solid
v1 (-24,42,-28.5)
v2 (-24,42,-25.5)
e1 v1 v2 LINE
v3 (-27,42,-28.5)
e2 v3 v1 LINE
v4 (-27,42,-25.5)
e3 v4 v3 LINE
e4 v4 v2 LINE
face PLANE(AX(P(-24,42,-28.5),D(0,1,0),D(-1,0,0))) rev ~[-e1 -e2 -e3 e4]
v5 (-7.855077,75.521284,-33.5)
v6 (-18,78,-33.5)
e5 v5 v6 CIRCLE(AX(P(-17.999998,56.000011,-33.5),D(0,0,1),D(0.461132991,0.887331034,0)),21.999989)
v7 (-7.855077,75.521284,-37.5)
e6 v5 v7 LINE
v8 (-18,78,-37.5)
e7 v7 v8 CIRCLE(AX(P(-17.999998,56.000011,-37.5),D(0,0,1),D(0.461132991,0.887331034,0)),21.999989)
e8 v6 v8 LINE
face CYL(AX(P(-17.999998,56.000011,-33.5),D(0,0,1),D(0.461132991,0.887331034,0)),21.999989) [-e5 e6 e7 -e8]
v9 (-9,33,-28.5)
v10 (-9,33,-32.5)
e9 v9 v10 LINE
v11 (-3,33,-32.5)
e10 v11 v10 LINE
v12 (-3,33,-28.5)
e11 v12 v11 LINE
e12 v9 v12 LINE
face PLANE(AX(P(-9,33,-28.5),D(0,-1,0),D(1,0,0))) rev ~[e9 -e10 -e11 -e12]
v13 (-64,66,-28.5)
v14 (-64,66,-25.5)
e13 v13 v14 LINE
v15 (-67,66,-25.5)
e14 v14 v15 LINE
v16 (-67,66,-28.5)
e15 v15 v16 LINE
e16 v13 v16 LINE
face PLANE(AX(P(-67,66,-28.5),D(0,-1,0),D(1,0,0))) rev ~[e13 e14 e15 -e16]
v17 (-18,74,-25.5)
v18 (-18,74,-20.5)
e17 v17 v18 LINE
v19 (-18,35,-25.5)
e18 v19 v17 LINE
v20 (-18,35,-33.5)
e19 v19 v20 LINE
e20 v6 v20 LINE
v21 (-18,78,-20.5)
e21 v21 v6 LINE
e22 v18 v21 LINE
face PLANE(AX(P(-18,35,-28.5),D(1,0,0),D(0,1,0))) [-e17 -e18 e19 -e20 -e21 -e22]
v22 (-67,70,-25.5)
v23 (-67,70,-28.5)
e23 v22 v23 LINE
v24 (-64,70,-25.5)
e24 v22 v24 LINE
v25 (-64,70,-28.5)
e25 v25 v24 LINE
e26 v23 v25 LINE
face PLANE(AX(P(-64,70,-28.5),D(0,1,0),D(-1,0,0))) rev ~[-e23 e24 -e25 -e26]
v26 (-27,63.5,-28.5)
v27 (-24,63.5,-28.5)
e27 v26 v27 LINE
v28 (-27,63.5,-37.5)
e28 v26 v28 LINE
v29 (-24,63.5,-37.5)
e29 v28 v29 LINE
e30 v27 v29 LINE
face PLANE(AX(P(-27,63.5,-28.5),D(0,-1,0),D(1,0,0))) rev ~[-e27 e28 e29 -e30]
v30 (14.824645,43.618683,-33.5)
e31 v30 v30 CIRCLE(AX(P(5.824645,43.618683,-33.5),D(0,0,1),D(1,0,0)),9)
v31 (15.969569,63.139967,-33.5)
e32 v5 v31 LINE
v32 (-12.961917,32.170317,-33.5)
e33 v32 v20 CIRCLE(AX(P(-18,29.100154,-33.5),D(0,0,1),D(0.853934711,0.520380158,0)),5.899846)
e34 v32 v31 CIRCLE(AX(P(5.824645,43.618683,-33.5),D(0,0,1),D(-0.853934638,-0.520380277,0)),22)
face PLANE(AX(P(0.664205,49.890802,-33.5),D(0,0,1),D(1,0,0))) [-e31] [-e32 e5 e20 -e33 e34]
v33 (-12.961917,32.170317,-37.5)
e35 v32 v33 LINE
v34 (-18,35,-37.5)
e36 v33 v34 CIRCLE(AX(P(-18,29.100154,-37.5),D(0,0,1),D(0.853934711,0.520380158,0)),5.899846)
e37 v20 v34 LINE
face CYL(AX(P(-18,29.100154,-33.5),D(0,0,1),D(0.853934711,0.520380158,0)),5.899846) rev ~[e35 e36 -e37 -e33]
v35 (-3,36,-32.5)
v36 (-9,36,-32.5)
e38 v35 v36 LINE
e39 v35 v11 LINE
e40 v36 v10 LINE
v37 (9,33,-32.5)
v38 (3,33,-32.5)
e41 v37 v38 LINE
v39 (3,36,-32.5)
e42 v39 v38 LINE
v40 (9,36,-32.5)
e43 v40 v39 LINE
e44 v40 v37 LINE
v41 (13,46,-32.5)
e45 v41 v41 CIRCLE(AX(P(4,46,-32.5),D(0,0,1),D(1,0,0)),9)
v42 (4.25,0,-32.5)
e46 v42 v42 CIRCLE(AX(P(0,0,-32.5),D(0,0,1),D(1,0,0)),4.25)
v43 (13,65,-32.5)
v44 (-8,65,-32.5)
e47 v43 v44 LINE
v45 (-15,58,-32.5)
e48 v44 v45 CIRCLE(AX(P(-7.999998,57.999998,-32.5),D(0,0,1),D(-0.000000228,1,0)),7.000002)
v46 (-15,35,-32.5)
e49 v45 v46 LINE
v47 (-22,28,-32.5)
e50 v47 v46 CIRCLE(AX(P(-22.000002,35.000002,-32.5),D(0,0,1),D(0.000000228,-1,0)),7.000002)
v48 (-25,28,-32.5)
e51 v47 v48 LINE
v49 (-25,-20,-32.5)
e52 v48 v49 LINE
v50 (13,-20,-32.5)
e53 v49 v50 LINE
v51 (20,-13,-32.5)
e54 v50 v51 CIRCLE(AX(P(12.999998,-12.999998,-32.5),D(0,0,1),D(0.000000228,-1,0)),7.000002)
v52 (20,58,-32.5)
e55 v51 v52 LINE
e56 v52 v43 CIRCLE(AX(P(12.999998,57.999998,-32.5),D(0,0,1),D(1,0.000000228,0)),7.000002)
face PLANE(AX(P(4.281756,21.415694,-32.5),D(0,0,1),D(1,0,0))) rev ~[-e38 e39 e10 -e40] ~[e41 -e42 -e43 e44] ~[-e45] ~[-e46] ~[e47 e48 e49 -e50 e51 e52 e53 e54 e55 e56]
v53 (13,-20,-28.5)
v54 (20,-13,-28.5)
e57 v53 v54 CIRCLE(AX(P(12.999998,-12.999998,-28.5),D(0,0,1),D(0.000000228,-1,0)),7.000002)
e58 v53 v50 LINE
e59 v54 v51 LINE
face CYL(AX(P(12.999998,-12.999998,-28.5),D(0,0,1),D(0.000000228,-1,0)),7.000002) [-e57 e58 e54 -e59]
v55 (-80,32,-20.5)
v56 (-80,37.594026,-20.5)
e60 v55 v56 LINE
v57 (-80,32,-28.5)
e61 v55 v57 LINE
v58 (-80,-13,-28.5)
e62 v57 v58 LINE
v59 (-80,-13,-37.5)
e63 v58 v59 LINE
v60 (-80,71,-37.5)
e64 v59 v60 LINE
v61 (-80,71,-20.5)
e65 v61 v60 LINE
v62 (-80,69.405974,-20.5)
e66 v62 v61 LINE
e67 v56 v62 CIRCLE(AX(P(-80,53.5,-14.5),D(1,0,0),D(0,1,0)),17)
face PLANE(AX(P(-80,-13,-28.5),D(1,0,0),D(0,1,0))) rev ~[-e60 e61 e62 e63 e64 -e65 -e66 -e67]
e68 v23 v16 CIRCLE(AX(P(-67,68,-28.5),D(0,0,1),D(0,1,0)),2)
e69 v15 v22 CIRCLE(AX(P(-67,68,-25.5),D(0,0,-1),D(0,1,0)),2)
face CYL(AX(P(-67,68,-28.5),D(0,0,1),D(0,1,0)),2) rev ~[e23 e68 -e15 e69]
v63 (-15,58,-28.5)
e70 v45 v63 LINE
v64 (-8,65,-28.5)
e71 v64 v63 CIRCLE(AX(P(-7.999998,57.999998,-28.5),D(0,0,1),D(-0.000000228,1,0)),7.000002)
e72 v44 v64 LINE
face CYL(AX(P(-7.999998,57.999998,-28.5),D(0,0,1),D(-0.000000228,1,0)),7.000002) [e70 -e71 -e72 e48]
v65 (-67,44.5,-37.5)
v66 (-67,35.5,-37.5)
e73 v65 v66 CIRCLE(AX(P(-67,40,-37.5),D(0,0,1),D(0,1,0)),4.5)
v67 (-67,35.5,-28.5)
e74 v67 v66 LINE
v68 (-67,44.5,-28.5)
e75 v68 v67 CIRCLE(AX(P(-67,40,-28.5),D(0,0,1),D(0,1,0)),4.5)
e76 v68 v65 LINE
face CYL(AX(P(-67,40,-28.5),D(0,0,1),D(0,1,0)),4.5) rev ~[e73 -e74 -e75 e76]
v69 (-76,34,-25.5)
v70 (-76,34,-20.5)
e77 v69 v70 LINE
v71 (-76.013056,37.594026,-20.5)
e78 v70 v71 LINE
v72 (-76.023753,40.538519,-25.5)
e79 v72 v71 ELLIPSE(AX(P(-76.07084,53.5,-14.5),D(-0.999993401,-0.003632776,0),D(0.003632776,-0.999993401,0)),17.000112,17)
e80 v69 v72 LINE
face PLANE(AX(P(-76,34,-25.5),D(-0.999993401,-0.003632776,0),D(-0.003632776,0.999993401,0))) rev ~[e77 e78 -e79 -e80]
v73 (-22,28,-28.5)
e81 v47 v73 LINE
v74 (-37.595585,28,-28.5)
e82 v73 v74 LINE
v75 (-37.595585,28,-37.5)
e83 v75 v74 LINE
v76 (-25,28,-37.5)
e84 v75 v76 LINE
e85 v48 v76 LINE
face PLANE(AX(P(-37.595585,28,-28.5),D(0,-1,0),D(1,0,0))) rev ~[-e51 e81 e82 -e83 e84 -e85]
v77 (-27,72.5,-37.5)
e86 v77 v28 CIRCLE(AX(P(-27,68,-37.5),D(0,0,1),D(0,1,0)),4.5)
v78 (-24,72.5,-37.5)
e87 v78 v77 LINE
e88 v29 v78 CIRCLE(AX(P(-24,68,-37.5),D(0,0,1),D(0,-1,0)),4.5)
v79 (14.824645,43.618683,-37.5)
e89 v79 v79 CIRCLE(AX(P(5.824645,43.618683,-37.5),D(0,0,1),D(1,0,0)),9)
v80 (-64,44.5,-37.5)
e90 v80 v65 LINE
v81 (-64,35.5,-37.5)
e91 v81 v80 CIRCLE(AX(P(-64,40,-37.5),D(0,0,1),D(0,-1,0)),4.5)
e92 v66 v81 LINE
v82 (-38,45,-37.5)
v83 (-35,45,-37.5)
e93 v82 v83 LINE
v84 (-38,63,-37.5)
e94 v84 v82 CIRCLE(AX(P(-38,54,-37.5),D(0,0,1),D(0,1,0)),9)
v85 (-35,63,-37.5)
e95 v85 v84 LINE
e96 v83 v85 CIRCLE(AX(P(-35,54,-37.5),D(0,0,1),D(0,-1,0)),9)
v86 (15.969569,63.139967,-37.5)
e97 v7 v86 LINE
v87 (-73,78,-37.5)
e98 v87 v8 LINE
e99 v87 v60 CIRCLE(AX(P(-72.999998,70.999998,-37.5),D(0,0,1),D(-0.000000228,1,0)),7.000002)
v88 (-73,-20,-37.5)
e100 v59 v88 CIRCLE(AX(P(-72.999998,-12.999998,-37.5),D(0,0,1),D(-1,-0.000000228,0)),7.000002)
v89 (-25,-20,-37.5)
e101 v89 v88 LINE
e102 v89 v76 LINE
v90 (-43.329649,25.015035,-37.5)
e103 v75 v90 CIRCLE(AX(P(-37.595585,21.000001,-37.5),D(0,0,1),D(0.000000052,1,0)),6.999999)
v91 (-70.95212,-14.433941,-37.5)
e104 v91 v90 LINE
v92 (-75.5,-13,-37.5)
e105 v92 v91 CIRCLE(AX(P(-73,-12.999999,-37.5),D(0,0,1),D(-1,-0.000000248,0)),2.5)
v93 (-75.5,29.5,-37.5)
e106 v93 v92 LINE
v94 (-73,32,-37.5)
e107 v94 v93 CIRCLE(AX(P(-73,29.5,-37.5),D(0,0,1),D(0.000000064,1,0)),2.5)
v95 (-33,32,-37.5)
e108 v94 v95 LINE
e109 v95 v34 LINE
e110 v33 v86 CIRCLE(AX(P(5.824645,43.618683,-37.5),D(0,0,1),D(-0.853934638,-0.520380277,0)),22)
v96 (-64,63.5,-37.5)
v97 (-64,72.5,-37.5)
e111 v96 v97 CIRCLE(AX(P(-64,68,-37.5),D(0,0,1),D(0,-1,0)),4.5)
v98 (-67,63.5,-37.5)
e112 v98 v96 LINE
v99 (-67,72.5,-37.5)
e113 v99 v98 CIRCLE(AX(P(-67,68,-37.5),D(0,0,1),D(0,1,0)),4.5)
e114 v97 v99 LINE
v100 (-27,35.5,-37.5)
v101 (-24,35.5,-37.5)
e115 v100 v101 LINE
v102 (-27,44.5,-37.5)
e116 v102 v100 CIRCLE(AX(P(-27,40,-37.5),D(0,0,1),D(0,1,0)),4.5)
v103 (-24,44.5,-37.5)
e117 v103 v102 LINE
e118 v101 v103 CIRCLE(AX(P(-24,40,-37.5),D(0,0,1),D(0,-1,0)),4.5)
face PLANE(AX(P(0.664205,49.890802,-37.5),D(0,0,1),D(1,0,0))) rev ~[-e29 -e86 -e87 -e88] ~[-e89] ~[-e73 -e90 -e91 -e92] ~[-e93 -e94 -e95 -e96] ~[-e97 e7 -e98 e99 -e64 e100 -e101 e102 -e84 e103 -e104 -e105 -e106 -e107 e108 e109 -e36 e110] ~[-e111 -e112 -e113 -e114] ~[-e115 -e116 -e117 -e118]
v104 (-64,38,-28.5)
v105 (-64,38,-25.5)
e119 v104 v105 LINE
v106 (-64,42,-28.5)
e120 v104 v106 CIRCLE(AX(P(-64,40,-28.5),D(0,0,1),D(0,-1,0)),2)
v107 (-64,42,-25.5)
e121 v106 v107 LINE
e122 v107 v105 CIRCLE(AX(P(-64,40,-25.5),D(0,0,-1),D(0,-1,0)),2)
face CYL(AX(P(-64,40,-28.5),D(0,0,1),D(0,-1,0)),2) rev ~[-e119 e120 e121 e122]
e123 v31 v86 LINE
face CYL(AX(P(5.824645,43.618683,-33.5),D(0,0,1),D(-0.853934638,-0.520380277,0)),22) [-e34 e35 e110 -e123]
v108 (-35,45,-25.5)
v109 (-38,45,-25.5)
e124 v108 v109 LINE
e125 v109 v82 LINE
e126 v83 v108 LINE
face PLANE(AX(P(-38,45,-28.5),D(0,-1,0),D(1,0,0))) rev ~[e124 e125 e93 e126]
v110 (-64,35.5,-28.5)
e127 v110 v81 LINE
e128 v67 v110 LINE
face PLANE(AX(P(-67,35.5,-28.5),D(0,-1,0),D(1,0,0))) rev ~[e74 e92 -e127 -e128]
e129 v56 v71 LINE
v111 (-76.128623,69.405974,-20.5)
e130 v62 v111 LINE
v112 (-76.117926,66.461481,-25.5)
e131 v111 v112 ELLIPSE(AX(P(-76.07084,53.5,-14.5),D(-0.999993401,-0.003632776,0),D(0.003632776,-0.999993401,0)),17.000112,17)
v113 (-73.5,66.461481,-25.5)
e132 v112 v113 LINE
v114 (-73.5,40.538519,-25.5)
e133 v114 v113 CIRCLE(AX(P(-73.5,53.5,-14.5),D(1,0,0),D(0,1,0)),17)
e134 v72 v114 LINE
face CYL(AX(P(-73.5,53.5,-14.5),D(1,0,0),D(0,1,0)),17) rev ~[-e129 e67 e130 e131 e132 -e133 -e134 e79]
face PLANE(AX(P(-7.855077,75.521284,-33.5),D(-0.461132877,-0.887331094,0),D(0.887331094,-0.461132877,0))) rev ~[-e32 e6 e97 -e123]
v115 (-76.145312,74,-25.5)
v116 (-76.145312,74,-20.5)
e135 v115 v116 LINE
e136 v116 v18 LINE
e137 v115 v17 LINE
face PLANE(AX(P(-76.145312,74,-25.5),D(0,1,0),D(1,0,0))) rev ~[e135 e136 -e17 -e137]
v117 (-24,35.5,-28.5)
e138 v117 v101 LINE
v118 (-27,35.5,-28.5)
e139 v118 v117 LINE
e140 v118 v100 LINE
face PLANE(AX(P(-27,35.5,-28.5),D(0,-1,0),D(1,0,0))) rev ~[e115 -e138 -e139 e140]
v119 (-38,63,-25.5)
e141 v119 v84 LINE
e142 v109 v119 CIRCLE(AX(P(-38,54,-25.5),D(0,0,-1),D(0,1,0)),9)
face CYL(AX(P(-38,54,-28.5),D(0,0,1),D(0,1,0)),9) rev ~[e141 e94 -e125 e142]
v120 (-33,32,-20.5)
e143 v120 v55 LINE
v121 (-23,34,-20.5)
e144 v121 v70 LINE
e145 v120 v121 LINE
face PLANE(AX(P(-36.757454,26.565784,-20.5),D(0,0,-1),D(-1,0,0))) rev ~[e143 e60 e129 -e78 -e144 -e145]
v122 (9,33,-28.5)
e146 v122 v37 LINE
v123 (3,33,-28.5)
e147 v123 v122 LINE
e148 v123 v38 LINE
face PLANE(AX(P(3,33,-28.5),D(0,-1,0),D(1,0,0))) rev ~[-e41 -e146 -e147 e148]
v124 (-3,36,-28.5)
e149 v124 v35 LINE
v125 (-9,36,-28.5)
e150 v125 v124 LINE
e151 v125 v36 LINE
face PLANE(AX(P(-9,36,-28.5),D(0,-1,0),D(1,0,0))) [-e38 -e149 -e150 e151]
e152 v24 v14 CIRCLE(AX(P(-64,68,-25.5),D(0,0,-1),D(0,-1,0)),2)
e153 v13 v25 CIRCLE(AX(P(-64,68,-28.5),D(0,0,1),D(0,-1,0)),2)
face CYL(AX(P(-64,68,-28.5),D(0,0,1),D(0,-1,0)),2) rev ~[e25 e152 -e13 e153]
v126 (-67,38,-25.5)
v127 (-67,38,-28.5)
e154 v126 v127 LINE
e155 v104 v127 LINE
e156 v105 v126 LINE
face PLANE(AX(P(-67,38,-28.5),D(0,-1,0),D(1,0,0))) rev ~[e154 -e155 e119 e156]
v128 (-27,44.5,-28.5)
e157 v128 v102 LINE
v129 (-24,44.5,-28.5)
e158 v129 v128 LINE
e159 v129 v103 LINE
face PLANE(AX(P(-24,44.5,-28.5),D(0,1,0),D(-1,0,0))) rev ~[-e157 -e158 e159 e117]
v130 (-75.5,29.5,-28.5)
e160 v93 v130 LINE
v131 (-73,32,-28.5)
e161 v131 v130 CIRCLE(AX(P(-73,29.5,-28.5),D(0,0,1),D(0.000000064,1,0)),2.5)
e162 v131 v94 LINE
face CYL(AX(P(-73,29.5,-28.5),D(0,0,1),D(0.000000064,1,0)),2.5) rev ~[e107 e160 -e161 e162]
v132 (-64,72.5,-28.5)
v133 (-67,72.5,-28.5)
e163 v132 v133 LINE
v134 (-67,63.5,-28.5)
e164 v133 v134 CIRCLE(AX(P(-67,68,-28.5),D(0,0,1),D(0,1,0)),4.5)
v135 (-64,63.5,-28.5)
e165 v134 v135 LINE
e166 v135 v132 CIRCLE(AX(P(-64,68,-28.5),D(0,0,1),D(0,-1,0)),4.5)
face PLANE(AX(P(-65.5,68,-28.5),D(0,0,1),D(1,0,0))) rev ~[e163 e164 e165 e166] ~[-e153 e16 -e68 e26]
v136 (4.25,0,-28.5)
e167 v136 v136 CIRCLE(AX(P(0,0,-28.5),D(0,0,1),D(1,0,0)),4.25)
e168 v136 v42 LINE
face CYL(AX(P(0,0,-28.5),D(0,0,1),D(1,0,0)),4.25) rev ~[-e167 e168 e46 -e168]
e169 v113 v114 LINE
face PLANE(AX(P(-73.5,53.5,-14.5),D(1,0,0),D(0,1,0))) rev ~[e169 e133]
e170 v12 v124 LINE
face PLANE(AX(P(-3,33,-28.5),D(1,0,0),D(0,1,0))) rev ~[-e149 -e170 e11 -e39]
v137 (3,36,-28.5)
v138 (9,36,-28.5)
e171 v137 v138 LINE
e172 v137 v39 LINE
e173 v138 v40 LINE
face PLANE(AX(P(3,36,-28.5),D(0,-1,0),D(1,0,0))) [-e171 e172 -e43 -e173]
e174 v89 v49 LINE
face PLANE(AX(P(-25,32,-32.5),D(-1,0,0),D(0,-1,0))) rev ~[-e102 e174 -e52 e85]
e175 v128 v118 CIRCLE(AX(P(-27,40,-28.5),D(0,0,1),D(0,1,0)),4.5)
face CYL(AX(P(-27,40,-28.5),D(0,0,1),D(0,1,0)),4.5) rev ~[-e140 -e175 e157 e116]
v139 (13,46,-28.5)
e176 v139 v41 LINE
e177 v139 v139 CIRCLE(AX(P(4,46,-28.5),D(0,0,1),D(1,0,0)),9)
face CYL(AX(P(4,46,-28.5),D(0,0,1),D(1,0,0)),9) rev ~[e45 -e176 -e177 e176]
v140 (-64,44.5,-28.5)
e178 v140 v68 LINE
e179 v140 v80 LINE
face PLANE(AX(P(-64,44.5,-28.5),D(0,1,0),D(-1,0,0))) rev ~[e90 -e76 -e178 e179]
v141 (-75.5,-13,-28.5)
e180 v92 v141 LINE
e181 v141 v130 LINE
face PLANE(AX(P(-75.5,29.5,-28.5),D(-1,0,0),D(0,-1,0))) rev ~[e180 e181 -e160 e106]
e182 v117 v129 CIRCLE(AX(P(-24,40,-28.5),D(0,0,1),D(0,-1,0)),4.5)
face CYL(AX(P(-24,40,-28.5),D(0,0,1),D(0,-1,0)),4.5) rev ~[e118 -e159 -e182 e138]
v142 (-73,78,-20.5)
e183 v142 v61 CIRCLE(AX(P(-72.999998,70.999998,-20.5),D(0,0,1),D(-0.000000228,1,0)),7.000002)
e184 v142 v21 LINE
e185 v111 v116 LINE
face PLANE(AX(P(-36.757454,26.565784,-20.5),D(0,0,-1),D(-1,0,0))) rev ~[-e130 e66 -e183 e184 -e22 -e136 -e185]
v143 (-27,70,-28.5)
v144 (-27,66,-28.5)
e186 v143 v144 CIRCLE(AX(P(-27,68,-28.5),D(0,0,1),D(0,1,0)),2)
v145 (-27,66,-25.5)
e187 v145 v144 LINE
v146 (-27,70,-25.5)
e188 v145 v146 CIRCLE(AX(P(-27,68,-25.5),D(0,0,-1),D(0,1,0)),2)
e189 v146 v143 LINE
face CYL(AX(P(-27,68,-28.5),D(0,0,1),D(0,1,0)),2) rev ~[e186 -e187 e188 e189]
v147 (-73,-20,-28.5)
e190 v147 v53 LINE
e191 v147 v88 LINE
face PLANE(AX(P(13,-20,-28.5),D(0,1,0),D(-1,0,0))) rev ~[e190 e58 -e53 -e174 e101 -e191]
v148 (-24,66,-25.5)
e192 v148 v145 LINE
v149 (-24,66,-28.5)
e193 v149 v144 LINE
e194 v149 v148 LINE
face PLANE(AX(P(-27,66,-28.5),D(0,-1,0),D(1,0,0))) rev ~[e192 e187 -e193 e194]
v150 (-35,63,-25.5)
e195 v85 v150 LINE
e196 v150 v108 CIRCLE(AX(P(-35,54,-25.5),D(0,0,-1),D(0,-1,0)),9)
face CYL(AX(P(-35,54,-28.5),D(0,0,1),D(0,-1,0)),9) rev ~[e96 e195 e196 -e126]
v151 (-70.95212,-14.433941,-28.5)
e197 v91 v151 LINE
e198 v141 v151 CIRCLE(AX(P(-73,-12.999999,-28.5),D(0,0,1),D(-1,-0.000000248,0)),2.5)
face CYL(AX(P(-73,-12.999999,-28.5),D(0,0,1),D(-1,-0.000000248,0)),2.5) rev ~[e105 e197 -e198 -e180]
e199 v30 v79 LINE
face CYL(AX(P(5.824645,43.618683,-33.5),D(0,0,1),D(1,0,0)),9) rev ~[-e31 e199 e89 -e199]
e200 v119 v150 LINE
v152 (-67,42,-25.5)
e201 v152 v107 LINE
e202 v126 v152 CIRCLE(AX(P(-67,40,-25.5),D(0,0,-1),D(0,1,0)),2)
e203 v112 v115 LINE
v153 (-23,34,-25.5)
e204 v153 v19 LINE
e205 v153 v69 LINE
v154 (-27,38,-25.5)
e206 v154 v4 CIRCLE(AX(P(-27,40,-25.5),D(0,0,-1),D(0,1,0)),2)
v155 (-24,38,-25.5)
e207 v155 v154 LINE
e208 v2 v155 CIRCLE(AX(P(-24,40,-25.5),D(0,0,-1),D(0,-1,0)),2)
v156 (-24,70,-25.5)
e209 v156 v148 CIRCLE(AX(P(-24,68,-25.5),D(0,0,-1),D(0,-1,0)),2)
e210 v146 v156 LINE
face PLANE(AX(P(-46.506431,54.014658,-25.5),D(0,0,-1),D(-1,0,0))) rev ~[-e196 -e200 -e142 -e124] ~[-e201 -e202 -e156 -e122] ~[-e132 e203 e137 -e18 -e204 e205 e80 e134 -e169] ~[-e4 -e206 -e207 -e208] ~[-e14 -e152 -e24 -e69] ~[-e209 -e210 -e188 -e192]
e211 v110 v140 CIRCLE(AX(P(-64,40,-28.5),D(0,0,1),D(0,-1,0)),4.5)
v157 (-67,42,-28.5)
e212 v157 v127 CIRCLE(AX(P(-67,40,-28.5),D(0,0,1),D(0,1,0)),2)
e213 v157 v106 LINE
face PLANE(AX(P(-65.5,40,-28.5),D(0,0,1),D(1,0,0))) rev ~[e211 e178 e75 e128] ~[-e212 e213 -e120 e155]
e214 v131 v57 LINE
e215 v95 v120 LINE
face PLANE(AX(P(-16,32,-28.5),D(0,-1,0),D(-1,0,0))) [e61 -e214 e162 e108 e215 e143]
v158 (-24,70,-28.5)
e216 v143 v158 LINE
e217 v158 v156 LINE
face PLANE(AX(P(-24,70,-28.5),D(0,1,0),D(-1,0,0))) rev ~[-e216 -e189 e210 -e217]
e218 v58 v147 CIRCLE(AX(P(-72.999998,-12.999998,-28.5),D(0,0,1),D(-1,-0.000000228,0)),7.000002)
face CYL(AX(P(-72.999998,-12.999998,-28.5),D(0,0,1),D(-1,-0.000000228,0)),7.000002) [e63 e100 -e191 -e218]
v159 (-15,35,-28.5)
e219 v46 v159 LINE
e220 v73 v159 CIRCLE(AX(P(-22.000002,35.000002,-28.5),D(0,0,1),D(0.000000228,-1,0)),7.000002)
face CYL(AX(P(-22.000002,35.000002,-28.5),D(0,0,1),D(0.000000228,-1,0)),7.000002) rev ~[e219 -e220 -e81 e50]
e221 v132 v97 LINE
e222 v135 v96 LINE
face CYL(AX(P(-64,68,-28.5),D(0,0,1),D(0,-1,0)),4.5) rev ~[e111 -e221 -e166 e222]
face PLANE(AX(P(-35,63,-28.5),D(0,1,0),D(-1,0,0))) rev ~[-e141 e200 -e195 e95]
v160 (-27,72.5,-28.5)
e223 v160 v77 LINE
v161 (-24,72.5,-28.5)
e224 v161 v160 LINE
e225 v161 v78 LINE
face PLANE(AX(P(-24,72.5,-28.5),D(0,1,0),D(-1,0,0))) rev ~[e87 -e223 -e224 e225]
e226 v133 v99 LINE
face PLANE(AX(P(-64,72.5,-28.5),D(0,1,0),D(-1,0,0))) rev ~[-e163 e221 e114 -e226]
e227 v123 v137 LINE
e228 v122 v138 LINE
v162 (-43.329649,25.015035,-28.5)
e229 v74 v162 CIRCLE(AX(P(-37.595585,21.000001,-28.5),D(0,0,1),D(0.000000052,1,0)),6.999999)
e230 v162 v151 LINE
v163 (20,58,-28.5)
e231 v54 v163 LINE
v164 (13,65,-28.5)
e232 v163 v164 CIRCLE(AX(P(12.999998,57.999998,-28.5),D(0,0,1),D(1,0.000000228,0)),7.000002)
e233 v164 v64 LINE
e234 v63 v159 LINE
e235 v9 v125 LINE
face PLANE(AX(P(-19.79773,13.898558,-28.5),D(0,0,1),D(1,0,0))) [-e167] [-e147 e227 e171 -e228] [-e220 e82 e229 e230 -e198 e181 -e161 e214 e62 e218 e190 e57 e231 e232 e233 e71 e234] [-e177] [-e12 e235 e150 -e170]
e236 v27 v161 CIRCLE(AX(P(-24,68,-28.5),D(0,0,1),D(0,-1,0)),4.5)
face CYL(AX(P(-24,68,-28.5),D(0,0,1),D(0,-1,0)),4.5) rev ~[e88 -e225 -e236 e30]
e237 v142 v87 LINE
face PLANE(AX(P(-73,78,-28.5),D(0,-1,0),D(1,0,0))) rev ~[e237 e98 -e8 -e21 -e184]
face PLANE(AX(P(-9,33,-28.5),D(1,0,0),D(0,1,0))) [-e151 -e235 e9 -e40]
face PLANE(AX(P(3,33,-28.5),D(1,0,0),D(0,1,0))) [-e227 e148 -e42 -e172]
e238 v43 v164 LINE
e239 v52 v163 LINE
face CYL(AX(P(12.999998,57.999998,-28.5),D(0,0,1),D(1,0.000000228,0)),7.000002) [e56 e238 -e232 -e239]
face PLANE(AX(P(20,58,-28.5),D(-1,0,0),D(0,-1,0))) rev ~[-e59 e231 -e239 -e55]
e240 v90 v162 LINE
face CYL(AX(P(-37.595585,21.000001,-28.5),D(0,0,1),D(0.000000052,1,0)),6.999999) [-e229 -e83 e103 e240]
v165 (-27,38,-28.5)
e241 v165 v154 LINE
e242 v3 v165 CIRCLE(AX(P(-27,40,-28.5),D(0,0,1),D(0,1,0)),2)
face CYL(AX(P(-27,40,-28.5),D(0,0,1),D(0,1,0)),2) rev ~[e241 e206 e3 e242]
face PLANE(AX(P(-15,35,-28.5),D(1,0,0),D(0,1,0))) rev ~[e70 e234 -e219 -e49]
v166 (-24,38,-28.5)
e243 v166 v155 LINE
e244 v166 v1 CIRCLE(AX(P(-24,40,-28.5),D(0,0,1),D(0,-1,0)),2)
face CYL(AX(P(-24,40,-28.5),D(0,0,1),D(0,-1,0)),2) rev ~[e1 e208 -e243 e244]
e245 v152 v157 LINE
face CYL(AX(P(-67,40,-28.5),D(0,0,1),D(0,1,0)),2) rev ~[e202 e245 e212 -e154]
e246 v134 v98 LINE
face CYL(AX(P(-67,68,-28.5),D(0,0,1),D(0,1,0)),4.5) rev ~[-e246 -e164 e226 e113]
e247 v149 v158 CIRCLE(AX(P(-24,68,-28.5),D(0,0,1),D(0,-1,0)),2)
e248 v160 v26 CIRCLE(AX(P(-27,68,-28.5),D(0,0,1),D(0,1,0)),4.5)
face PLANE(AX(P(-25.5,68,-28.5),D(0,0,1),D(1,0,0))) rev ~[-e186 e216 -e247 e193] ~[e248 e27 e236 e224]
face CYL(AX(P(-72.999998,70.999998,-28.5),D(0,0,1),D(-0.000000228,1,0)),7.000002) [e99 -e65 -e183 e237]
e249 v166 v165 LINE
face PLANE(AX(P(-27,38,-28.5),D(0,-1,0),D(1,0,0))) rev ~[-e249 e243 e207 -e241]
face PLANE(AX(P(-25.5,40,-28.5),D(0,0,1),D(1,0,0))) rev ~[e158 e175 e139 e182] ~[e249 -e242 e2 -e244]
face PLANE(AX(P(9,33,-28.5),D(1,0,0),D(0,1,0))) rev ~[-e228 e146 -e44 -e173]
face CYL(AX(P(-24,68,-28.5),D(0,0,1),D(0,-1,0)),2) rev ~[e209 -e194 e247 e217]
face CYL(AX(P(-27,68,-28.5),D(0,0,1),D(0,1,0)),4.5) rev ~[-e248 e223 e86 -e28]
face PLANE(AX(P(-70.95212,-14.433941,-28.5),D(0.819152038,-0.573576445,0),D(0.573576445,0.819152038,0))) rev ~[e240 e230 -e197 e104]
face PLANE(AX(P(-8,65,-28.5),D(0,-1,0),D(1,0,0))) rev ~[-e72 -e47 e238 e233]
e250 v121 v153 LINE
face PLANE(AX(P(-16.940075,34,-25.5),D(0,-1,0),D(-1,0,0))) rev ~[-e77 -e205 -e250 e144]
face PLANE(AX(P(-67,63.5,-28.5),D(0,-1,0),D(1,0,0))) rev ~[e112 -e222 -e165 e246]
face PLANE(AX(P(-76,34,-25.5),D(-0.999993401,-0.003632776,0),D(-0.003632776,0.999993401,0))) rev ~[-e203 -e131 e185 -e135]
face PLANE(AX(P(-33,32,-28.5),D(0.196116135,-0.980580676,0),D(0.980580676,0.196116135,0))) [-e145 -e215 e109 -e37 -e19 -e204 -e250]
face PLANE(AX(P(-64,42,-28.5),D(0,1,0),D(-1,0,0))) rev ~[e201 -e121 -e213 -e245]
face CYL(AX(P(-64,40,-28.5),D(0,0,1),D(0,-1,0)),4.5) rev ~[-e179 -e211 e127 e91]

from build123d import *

# Parameters (mm, degrees)
SKETCH023_R       = 4.25
SKETCH023_R_2     = 9
SKETCH023_W       = 6
SKETCH023_H       = 3
PAD013_DEPTH      = 8
PAD013_DEPTH_BACK = 9
POCKET010_DEPTH   = 5.001
SKETCH028_R       = 17
POCKET011_DEPTH   = 6.501
POCKET012_DEPTH   = 8.001
POCKET013_DEPTH   = 5.001
SKETCH031_R       = 9
PAD014_DEPTH      = 4
POCKET014_DEPTH   = 9.001


with BuildPart() as part:
    # Sketch023 → Pad013 (new body, two sides)
    with BuildSketch(Plane.XY) as pad013_sk:
        with BuildLine():
            Line((20, 58), (20, -13))
            ThreePointArc((13, -20), (17.949747, -17.949747), (20, -13))
            Line((13, -20), (-73, -20))
            ThreePointArc((-80, -13), (-77.949747, -17.949747), (-73, -20))
            Line((-80, -13), (-80, 71))
            ThreePointArc((-73, 78), (-77.949747, 75.949747), (-80, 71))
            Line((-73, 78), (-18, 78))
            Line((-18, 35), (-18, 78))
            Line((-33, 32), (-18, 35))
            Line((-73, 32), (-33, 32))
            ThreePointArc((-73, 32), (-74.767767, 31.267767), (-75.5, 29.5))
            Line((-75.5, 29.5), (-75.5, -13))
            ThreePointArc((-75.5, -13), (-73.751764, -15.384292), (-70.95212, -14.433941))
            Line((-70.95212, -14.433941), (-43.329649, 25.015035))
            ThreePointArc((-37.595585, 28), (-40.827825, 27.209076), (-43.329649, 25.015035))
            Line((-37.595585, 28), (-22, 28))
            ThreePointArc((-22, 28), (-17.050253, 30.050253), (-15, 35))
            Line((-15, 35), (-15, 58))
            ThreePointArc((-8, 65), (-12.949747, 62.949747), (-15, 58))
            Line((-8, 65), (13, 65))
            ThreePointArc((20, 58), (17.949747, 62.949747), (13, 65))
        make_face()
        Circle(SKETCH023_R, mode=Mode.SUBTRACT)
        with Locations((4, 46)):
            Circle(SKETCH023_R_2, mode=Mode.SUBTRACT)
        with BuildLine():
            ThreePointArc((-38, 63), (-47, 54), (-38, 45))
            Line((-38, 45), (-35, 45))
            ThreePointArc((-35, 45), (-26, 54), (-35, 63))
            Line((-35, 63), (-38, 63))
        make_face(mode=Mode.SUBTRACT)
        with BuildLine():
            ThreePointArc((-67, 70), (-69, 68), (-67, 66))
            Line((-67, 66), (-64, 66))
            ThreePointArc((-64, 66), (-62, 68), (-64, 70))
            Line((-64, 70), (-67, 70))
        make_face(mode=Mode.SUBTRACT)
        with BuildLine():
            ThreePointArc((-67, 42), (-69, 40), (-67, 38))
            Line((-67, 38), (-64, 38))
            ThreePointArc((-64, 38), (-62, 40), (-64, 42))
            Line((-64, 42), (-67, 42))
        make_face(mode=Mode.SUBTRACT)
        with Locations((6, 34.5)):
            Rectangle(SKETCH023_W, SKETCH023_H, mode=Mode.SUBTRACT)
        with Locations((-6, 34.5)):
            Rectangle(SKETCH023_W, SKETCH023_H, mode=Mode.SUBTRACT)
        with BuildLine():
            ThreePointArc((-27, 70), (-29, 68), (-27, 66))
            Line((-27, 66), (-24, 66))
            ThreePointArc((-24, 66), (-22, 68), (-24, 70))
            Line((-24, 70), (-27, 70))
        make_face(mode=Mode.SUBTRACT)
        with BuildLine():
            ThreePointArc((-27, 42), (-29, 40), (-27, 38))
            Line((-27, 38), (-24, 38))
            ThreePointArc((-24, 38), (-22, 40), (-24, 42))
            Line((-24, 42), (-27, 42))
        make_face(mode=Mode.SUBTRACT)
    extrude(amount=PAD013_DEPTH)
    extrude(pad013_sk.sketch, amount=-PAD013_DEPTH_BACK)

    # Sketch025 → Pocket010 (cut, through all)
    with BuildSketch(Plane.XY.offset(3)):
        Polygon((-76.145312, 74), (-16.940075, 74), (-16.940075, 34), (-76, 34), align=None)
    extrude(amount=POCKET010_DEPTH, mode=Mode.SUBTRACT)

    # Sketch028 → Pocket011 (cut, through all)
    with BuildSketch(Plane.YZ.offset(-73.5)):
        with Locations((53.5, 14)):
            Circle(SKETCH028_R)
    extrude(amount=-POCKET011_DEPTH, mode=Mode.SUBTRACT)

    # Sketch029 → Pocket012 (cut, through all)
    with BuildSketch(Plane.XY):
        Polygon((-85.091896, 32), (-85.091896, -28.781052), (33.933025, -28.781052), (33.933025, 68.141579), (-16, 68.141579), (-16, 32), align=None)
    extrude(amount=POCKET012_DEPTH, mode=Mode.SUBTRACT)

    # Sketch030 → Pocket013 (cut, through all)
    with BuildSketch(Plane.XY.offset(-4)):
        Polygon((30.837446, 73.192078), (-15.70892, 73.192078), (-15.70892, 34.728077), (-25, 32), (-25, -27.823572), (30.837446, -27.823572), align=None)
    extrude(amount=-POCKET013_DEPTH, mode=Mode.SUBTRACT)

    # Sketch031 → Pad014 (join)
    with BuildSketch(Plane.XY.offset(-5)):
        with BuildLine():
            ThreePointArc((-12.961917, 32.170317), (21.901003, 28.600337), (15.969569, 63.139967))
            Line((-7.855077, 75.521284), (15.969569, 63.139967))
            ThreePointArc((-7.855077, 75.521284), (-12.778326, 77.371339), (-18, 78))
            Line((-18, 78), (-18, 35))
            ThreePointArc((-12.961917, 32.170317), (-15.110823, 34.244164), (-18, 35))
        make_face()
        with Locations((5.824645, 43.618683)):
            Circle(SKETCH031_R, mode=Mode.SUBTRACT)
    extrude(amount=-PAD014_DEPTH)

    # Sketch032 → Pocket014 (cut, through all)
    with BuildSketch(Plane.XY):
        with BuildLine():
            ThreePointArc((-67, 44.5), (-71.5, 40), (-67, 35.5))
            Line((-67, 35.5), (-64, 35.5))
            ThreePointArc((-64, 35.5), (-59.5, 40), (-64, 44.5))
            Line((-64, 44.5), (-67, 44.5))
        make_face()
        with BuildLine():
            ThreePointArc((-67, 72.5), (-71.5, 68), (-67, 63.5))
            Line((-67, 63.5), (-64, 63.5))
            ThreePointArc((-64, 63.5), (-59.5, 68), (-64, 72.5))
            Line((-64, 72.5), (-67, 72.5))
        make_face()
        with BuildLine():
            ThreePointArc((-27, 72.5), (-31.5, 68), (-27, 63.5))
            Line((-27, 63.5), (-24, 63.5))
            ThreePointArc((-24, 63.5), (-19.5, 68), (-24, 72.5))
            Line((-24, 72.5), (-27, 72.5))
        make_face()
        with BuildLine():
            ThreePointArc((-27, 44.5), (-31.5, 40), (-27, 35.5))
            Line((-27, 35.5), (-24, 35.5))
            ThreePointArc((-24, 35.5), (-19.5, 40), (-24, 44.5))
            Line((-24, 44.5), (-27, 44.5))
        make_face()
    extrude(amount=-POCKET014_DEPTH, mode=Mode.SUBTRACT)


with BuildPart() as part_1:
    # Body009 placement: moved
    add(part.part.moved(Location((0, 0, -28.5))))


solid = part_1.part
